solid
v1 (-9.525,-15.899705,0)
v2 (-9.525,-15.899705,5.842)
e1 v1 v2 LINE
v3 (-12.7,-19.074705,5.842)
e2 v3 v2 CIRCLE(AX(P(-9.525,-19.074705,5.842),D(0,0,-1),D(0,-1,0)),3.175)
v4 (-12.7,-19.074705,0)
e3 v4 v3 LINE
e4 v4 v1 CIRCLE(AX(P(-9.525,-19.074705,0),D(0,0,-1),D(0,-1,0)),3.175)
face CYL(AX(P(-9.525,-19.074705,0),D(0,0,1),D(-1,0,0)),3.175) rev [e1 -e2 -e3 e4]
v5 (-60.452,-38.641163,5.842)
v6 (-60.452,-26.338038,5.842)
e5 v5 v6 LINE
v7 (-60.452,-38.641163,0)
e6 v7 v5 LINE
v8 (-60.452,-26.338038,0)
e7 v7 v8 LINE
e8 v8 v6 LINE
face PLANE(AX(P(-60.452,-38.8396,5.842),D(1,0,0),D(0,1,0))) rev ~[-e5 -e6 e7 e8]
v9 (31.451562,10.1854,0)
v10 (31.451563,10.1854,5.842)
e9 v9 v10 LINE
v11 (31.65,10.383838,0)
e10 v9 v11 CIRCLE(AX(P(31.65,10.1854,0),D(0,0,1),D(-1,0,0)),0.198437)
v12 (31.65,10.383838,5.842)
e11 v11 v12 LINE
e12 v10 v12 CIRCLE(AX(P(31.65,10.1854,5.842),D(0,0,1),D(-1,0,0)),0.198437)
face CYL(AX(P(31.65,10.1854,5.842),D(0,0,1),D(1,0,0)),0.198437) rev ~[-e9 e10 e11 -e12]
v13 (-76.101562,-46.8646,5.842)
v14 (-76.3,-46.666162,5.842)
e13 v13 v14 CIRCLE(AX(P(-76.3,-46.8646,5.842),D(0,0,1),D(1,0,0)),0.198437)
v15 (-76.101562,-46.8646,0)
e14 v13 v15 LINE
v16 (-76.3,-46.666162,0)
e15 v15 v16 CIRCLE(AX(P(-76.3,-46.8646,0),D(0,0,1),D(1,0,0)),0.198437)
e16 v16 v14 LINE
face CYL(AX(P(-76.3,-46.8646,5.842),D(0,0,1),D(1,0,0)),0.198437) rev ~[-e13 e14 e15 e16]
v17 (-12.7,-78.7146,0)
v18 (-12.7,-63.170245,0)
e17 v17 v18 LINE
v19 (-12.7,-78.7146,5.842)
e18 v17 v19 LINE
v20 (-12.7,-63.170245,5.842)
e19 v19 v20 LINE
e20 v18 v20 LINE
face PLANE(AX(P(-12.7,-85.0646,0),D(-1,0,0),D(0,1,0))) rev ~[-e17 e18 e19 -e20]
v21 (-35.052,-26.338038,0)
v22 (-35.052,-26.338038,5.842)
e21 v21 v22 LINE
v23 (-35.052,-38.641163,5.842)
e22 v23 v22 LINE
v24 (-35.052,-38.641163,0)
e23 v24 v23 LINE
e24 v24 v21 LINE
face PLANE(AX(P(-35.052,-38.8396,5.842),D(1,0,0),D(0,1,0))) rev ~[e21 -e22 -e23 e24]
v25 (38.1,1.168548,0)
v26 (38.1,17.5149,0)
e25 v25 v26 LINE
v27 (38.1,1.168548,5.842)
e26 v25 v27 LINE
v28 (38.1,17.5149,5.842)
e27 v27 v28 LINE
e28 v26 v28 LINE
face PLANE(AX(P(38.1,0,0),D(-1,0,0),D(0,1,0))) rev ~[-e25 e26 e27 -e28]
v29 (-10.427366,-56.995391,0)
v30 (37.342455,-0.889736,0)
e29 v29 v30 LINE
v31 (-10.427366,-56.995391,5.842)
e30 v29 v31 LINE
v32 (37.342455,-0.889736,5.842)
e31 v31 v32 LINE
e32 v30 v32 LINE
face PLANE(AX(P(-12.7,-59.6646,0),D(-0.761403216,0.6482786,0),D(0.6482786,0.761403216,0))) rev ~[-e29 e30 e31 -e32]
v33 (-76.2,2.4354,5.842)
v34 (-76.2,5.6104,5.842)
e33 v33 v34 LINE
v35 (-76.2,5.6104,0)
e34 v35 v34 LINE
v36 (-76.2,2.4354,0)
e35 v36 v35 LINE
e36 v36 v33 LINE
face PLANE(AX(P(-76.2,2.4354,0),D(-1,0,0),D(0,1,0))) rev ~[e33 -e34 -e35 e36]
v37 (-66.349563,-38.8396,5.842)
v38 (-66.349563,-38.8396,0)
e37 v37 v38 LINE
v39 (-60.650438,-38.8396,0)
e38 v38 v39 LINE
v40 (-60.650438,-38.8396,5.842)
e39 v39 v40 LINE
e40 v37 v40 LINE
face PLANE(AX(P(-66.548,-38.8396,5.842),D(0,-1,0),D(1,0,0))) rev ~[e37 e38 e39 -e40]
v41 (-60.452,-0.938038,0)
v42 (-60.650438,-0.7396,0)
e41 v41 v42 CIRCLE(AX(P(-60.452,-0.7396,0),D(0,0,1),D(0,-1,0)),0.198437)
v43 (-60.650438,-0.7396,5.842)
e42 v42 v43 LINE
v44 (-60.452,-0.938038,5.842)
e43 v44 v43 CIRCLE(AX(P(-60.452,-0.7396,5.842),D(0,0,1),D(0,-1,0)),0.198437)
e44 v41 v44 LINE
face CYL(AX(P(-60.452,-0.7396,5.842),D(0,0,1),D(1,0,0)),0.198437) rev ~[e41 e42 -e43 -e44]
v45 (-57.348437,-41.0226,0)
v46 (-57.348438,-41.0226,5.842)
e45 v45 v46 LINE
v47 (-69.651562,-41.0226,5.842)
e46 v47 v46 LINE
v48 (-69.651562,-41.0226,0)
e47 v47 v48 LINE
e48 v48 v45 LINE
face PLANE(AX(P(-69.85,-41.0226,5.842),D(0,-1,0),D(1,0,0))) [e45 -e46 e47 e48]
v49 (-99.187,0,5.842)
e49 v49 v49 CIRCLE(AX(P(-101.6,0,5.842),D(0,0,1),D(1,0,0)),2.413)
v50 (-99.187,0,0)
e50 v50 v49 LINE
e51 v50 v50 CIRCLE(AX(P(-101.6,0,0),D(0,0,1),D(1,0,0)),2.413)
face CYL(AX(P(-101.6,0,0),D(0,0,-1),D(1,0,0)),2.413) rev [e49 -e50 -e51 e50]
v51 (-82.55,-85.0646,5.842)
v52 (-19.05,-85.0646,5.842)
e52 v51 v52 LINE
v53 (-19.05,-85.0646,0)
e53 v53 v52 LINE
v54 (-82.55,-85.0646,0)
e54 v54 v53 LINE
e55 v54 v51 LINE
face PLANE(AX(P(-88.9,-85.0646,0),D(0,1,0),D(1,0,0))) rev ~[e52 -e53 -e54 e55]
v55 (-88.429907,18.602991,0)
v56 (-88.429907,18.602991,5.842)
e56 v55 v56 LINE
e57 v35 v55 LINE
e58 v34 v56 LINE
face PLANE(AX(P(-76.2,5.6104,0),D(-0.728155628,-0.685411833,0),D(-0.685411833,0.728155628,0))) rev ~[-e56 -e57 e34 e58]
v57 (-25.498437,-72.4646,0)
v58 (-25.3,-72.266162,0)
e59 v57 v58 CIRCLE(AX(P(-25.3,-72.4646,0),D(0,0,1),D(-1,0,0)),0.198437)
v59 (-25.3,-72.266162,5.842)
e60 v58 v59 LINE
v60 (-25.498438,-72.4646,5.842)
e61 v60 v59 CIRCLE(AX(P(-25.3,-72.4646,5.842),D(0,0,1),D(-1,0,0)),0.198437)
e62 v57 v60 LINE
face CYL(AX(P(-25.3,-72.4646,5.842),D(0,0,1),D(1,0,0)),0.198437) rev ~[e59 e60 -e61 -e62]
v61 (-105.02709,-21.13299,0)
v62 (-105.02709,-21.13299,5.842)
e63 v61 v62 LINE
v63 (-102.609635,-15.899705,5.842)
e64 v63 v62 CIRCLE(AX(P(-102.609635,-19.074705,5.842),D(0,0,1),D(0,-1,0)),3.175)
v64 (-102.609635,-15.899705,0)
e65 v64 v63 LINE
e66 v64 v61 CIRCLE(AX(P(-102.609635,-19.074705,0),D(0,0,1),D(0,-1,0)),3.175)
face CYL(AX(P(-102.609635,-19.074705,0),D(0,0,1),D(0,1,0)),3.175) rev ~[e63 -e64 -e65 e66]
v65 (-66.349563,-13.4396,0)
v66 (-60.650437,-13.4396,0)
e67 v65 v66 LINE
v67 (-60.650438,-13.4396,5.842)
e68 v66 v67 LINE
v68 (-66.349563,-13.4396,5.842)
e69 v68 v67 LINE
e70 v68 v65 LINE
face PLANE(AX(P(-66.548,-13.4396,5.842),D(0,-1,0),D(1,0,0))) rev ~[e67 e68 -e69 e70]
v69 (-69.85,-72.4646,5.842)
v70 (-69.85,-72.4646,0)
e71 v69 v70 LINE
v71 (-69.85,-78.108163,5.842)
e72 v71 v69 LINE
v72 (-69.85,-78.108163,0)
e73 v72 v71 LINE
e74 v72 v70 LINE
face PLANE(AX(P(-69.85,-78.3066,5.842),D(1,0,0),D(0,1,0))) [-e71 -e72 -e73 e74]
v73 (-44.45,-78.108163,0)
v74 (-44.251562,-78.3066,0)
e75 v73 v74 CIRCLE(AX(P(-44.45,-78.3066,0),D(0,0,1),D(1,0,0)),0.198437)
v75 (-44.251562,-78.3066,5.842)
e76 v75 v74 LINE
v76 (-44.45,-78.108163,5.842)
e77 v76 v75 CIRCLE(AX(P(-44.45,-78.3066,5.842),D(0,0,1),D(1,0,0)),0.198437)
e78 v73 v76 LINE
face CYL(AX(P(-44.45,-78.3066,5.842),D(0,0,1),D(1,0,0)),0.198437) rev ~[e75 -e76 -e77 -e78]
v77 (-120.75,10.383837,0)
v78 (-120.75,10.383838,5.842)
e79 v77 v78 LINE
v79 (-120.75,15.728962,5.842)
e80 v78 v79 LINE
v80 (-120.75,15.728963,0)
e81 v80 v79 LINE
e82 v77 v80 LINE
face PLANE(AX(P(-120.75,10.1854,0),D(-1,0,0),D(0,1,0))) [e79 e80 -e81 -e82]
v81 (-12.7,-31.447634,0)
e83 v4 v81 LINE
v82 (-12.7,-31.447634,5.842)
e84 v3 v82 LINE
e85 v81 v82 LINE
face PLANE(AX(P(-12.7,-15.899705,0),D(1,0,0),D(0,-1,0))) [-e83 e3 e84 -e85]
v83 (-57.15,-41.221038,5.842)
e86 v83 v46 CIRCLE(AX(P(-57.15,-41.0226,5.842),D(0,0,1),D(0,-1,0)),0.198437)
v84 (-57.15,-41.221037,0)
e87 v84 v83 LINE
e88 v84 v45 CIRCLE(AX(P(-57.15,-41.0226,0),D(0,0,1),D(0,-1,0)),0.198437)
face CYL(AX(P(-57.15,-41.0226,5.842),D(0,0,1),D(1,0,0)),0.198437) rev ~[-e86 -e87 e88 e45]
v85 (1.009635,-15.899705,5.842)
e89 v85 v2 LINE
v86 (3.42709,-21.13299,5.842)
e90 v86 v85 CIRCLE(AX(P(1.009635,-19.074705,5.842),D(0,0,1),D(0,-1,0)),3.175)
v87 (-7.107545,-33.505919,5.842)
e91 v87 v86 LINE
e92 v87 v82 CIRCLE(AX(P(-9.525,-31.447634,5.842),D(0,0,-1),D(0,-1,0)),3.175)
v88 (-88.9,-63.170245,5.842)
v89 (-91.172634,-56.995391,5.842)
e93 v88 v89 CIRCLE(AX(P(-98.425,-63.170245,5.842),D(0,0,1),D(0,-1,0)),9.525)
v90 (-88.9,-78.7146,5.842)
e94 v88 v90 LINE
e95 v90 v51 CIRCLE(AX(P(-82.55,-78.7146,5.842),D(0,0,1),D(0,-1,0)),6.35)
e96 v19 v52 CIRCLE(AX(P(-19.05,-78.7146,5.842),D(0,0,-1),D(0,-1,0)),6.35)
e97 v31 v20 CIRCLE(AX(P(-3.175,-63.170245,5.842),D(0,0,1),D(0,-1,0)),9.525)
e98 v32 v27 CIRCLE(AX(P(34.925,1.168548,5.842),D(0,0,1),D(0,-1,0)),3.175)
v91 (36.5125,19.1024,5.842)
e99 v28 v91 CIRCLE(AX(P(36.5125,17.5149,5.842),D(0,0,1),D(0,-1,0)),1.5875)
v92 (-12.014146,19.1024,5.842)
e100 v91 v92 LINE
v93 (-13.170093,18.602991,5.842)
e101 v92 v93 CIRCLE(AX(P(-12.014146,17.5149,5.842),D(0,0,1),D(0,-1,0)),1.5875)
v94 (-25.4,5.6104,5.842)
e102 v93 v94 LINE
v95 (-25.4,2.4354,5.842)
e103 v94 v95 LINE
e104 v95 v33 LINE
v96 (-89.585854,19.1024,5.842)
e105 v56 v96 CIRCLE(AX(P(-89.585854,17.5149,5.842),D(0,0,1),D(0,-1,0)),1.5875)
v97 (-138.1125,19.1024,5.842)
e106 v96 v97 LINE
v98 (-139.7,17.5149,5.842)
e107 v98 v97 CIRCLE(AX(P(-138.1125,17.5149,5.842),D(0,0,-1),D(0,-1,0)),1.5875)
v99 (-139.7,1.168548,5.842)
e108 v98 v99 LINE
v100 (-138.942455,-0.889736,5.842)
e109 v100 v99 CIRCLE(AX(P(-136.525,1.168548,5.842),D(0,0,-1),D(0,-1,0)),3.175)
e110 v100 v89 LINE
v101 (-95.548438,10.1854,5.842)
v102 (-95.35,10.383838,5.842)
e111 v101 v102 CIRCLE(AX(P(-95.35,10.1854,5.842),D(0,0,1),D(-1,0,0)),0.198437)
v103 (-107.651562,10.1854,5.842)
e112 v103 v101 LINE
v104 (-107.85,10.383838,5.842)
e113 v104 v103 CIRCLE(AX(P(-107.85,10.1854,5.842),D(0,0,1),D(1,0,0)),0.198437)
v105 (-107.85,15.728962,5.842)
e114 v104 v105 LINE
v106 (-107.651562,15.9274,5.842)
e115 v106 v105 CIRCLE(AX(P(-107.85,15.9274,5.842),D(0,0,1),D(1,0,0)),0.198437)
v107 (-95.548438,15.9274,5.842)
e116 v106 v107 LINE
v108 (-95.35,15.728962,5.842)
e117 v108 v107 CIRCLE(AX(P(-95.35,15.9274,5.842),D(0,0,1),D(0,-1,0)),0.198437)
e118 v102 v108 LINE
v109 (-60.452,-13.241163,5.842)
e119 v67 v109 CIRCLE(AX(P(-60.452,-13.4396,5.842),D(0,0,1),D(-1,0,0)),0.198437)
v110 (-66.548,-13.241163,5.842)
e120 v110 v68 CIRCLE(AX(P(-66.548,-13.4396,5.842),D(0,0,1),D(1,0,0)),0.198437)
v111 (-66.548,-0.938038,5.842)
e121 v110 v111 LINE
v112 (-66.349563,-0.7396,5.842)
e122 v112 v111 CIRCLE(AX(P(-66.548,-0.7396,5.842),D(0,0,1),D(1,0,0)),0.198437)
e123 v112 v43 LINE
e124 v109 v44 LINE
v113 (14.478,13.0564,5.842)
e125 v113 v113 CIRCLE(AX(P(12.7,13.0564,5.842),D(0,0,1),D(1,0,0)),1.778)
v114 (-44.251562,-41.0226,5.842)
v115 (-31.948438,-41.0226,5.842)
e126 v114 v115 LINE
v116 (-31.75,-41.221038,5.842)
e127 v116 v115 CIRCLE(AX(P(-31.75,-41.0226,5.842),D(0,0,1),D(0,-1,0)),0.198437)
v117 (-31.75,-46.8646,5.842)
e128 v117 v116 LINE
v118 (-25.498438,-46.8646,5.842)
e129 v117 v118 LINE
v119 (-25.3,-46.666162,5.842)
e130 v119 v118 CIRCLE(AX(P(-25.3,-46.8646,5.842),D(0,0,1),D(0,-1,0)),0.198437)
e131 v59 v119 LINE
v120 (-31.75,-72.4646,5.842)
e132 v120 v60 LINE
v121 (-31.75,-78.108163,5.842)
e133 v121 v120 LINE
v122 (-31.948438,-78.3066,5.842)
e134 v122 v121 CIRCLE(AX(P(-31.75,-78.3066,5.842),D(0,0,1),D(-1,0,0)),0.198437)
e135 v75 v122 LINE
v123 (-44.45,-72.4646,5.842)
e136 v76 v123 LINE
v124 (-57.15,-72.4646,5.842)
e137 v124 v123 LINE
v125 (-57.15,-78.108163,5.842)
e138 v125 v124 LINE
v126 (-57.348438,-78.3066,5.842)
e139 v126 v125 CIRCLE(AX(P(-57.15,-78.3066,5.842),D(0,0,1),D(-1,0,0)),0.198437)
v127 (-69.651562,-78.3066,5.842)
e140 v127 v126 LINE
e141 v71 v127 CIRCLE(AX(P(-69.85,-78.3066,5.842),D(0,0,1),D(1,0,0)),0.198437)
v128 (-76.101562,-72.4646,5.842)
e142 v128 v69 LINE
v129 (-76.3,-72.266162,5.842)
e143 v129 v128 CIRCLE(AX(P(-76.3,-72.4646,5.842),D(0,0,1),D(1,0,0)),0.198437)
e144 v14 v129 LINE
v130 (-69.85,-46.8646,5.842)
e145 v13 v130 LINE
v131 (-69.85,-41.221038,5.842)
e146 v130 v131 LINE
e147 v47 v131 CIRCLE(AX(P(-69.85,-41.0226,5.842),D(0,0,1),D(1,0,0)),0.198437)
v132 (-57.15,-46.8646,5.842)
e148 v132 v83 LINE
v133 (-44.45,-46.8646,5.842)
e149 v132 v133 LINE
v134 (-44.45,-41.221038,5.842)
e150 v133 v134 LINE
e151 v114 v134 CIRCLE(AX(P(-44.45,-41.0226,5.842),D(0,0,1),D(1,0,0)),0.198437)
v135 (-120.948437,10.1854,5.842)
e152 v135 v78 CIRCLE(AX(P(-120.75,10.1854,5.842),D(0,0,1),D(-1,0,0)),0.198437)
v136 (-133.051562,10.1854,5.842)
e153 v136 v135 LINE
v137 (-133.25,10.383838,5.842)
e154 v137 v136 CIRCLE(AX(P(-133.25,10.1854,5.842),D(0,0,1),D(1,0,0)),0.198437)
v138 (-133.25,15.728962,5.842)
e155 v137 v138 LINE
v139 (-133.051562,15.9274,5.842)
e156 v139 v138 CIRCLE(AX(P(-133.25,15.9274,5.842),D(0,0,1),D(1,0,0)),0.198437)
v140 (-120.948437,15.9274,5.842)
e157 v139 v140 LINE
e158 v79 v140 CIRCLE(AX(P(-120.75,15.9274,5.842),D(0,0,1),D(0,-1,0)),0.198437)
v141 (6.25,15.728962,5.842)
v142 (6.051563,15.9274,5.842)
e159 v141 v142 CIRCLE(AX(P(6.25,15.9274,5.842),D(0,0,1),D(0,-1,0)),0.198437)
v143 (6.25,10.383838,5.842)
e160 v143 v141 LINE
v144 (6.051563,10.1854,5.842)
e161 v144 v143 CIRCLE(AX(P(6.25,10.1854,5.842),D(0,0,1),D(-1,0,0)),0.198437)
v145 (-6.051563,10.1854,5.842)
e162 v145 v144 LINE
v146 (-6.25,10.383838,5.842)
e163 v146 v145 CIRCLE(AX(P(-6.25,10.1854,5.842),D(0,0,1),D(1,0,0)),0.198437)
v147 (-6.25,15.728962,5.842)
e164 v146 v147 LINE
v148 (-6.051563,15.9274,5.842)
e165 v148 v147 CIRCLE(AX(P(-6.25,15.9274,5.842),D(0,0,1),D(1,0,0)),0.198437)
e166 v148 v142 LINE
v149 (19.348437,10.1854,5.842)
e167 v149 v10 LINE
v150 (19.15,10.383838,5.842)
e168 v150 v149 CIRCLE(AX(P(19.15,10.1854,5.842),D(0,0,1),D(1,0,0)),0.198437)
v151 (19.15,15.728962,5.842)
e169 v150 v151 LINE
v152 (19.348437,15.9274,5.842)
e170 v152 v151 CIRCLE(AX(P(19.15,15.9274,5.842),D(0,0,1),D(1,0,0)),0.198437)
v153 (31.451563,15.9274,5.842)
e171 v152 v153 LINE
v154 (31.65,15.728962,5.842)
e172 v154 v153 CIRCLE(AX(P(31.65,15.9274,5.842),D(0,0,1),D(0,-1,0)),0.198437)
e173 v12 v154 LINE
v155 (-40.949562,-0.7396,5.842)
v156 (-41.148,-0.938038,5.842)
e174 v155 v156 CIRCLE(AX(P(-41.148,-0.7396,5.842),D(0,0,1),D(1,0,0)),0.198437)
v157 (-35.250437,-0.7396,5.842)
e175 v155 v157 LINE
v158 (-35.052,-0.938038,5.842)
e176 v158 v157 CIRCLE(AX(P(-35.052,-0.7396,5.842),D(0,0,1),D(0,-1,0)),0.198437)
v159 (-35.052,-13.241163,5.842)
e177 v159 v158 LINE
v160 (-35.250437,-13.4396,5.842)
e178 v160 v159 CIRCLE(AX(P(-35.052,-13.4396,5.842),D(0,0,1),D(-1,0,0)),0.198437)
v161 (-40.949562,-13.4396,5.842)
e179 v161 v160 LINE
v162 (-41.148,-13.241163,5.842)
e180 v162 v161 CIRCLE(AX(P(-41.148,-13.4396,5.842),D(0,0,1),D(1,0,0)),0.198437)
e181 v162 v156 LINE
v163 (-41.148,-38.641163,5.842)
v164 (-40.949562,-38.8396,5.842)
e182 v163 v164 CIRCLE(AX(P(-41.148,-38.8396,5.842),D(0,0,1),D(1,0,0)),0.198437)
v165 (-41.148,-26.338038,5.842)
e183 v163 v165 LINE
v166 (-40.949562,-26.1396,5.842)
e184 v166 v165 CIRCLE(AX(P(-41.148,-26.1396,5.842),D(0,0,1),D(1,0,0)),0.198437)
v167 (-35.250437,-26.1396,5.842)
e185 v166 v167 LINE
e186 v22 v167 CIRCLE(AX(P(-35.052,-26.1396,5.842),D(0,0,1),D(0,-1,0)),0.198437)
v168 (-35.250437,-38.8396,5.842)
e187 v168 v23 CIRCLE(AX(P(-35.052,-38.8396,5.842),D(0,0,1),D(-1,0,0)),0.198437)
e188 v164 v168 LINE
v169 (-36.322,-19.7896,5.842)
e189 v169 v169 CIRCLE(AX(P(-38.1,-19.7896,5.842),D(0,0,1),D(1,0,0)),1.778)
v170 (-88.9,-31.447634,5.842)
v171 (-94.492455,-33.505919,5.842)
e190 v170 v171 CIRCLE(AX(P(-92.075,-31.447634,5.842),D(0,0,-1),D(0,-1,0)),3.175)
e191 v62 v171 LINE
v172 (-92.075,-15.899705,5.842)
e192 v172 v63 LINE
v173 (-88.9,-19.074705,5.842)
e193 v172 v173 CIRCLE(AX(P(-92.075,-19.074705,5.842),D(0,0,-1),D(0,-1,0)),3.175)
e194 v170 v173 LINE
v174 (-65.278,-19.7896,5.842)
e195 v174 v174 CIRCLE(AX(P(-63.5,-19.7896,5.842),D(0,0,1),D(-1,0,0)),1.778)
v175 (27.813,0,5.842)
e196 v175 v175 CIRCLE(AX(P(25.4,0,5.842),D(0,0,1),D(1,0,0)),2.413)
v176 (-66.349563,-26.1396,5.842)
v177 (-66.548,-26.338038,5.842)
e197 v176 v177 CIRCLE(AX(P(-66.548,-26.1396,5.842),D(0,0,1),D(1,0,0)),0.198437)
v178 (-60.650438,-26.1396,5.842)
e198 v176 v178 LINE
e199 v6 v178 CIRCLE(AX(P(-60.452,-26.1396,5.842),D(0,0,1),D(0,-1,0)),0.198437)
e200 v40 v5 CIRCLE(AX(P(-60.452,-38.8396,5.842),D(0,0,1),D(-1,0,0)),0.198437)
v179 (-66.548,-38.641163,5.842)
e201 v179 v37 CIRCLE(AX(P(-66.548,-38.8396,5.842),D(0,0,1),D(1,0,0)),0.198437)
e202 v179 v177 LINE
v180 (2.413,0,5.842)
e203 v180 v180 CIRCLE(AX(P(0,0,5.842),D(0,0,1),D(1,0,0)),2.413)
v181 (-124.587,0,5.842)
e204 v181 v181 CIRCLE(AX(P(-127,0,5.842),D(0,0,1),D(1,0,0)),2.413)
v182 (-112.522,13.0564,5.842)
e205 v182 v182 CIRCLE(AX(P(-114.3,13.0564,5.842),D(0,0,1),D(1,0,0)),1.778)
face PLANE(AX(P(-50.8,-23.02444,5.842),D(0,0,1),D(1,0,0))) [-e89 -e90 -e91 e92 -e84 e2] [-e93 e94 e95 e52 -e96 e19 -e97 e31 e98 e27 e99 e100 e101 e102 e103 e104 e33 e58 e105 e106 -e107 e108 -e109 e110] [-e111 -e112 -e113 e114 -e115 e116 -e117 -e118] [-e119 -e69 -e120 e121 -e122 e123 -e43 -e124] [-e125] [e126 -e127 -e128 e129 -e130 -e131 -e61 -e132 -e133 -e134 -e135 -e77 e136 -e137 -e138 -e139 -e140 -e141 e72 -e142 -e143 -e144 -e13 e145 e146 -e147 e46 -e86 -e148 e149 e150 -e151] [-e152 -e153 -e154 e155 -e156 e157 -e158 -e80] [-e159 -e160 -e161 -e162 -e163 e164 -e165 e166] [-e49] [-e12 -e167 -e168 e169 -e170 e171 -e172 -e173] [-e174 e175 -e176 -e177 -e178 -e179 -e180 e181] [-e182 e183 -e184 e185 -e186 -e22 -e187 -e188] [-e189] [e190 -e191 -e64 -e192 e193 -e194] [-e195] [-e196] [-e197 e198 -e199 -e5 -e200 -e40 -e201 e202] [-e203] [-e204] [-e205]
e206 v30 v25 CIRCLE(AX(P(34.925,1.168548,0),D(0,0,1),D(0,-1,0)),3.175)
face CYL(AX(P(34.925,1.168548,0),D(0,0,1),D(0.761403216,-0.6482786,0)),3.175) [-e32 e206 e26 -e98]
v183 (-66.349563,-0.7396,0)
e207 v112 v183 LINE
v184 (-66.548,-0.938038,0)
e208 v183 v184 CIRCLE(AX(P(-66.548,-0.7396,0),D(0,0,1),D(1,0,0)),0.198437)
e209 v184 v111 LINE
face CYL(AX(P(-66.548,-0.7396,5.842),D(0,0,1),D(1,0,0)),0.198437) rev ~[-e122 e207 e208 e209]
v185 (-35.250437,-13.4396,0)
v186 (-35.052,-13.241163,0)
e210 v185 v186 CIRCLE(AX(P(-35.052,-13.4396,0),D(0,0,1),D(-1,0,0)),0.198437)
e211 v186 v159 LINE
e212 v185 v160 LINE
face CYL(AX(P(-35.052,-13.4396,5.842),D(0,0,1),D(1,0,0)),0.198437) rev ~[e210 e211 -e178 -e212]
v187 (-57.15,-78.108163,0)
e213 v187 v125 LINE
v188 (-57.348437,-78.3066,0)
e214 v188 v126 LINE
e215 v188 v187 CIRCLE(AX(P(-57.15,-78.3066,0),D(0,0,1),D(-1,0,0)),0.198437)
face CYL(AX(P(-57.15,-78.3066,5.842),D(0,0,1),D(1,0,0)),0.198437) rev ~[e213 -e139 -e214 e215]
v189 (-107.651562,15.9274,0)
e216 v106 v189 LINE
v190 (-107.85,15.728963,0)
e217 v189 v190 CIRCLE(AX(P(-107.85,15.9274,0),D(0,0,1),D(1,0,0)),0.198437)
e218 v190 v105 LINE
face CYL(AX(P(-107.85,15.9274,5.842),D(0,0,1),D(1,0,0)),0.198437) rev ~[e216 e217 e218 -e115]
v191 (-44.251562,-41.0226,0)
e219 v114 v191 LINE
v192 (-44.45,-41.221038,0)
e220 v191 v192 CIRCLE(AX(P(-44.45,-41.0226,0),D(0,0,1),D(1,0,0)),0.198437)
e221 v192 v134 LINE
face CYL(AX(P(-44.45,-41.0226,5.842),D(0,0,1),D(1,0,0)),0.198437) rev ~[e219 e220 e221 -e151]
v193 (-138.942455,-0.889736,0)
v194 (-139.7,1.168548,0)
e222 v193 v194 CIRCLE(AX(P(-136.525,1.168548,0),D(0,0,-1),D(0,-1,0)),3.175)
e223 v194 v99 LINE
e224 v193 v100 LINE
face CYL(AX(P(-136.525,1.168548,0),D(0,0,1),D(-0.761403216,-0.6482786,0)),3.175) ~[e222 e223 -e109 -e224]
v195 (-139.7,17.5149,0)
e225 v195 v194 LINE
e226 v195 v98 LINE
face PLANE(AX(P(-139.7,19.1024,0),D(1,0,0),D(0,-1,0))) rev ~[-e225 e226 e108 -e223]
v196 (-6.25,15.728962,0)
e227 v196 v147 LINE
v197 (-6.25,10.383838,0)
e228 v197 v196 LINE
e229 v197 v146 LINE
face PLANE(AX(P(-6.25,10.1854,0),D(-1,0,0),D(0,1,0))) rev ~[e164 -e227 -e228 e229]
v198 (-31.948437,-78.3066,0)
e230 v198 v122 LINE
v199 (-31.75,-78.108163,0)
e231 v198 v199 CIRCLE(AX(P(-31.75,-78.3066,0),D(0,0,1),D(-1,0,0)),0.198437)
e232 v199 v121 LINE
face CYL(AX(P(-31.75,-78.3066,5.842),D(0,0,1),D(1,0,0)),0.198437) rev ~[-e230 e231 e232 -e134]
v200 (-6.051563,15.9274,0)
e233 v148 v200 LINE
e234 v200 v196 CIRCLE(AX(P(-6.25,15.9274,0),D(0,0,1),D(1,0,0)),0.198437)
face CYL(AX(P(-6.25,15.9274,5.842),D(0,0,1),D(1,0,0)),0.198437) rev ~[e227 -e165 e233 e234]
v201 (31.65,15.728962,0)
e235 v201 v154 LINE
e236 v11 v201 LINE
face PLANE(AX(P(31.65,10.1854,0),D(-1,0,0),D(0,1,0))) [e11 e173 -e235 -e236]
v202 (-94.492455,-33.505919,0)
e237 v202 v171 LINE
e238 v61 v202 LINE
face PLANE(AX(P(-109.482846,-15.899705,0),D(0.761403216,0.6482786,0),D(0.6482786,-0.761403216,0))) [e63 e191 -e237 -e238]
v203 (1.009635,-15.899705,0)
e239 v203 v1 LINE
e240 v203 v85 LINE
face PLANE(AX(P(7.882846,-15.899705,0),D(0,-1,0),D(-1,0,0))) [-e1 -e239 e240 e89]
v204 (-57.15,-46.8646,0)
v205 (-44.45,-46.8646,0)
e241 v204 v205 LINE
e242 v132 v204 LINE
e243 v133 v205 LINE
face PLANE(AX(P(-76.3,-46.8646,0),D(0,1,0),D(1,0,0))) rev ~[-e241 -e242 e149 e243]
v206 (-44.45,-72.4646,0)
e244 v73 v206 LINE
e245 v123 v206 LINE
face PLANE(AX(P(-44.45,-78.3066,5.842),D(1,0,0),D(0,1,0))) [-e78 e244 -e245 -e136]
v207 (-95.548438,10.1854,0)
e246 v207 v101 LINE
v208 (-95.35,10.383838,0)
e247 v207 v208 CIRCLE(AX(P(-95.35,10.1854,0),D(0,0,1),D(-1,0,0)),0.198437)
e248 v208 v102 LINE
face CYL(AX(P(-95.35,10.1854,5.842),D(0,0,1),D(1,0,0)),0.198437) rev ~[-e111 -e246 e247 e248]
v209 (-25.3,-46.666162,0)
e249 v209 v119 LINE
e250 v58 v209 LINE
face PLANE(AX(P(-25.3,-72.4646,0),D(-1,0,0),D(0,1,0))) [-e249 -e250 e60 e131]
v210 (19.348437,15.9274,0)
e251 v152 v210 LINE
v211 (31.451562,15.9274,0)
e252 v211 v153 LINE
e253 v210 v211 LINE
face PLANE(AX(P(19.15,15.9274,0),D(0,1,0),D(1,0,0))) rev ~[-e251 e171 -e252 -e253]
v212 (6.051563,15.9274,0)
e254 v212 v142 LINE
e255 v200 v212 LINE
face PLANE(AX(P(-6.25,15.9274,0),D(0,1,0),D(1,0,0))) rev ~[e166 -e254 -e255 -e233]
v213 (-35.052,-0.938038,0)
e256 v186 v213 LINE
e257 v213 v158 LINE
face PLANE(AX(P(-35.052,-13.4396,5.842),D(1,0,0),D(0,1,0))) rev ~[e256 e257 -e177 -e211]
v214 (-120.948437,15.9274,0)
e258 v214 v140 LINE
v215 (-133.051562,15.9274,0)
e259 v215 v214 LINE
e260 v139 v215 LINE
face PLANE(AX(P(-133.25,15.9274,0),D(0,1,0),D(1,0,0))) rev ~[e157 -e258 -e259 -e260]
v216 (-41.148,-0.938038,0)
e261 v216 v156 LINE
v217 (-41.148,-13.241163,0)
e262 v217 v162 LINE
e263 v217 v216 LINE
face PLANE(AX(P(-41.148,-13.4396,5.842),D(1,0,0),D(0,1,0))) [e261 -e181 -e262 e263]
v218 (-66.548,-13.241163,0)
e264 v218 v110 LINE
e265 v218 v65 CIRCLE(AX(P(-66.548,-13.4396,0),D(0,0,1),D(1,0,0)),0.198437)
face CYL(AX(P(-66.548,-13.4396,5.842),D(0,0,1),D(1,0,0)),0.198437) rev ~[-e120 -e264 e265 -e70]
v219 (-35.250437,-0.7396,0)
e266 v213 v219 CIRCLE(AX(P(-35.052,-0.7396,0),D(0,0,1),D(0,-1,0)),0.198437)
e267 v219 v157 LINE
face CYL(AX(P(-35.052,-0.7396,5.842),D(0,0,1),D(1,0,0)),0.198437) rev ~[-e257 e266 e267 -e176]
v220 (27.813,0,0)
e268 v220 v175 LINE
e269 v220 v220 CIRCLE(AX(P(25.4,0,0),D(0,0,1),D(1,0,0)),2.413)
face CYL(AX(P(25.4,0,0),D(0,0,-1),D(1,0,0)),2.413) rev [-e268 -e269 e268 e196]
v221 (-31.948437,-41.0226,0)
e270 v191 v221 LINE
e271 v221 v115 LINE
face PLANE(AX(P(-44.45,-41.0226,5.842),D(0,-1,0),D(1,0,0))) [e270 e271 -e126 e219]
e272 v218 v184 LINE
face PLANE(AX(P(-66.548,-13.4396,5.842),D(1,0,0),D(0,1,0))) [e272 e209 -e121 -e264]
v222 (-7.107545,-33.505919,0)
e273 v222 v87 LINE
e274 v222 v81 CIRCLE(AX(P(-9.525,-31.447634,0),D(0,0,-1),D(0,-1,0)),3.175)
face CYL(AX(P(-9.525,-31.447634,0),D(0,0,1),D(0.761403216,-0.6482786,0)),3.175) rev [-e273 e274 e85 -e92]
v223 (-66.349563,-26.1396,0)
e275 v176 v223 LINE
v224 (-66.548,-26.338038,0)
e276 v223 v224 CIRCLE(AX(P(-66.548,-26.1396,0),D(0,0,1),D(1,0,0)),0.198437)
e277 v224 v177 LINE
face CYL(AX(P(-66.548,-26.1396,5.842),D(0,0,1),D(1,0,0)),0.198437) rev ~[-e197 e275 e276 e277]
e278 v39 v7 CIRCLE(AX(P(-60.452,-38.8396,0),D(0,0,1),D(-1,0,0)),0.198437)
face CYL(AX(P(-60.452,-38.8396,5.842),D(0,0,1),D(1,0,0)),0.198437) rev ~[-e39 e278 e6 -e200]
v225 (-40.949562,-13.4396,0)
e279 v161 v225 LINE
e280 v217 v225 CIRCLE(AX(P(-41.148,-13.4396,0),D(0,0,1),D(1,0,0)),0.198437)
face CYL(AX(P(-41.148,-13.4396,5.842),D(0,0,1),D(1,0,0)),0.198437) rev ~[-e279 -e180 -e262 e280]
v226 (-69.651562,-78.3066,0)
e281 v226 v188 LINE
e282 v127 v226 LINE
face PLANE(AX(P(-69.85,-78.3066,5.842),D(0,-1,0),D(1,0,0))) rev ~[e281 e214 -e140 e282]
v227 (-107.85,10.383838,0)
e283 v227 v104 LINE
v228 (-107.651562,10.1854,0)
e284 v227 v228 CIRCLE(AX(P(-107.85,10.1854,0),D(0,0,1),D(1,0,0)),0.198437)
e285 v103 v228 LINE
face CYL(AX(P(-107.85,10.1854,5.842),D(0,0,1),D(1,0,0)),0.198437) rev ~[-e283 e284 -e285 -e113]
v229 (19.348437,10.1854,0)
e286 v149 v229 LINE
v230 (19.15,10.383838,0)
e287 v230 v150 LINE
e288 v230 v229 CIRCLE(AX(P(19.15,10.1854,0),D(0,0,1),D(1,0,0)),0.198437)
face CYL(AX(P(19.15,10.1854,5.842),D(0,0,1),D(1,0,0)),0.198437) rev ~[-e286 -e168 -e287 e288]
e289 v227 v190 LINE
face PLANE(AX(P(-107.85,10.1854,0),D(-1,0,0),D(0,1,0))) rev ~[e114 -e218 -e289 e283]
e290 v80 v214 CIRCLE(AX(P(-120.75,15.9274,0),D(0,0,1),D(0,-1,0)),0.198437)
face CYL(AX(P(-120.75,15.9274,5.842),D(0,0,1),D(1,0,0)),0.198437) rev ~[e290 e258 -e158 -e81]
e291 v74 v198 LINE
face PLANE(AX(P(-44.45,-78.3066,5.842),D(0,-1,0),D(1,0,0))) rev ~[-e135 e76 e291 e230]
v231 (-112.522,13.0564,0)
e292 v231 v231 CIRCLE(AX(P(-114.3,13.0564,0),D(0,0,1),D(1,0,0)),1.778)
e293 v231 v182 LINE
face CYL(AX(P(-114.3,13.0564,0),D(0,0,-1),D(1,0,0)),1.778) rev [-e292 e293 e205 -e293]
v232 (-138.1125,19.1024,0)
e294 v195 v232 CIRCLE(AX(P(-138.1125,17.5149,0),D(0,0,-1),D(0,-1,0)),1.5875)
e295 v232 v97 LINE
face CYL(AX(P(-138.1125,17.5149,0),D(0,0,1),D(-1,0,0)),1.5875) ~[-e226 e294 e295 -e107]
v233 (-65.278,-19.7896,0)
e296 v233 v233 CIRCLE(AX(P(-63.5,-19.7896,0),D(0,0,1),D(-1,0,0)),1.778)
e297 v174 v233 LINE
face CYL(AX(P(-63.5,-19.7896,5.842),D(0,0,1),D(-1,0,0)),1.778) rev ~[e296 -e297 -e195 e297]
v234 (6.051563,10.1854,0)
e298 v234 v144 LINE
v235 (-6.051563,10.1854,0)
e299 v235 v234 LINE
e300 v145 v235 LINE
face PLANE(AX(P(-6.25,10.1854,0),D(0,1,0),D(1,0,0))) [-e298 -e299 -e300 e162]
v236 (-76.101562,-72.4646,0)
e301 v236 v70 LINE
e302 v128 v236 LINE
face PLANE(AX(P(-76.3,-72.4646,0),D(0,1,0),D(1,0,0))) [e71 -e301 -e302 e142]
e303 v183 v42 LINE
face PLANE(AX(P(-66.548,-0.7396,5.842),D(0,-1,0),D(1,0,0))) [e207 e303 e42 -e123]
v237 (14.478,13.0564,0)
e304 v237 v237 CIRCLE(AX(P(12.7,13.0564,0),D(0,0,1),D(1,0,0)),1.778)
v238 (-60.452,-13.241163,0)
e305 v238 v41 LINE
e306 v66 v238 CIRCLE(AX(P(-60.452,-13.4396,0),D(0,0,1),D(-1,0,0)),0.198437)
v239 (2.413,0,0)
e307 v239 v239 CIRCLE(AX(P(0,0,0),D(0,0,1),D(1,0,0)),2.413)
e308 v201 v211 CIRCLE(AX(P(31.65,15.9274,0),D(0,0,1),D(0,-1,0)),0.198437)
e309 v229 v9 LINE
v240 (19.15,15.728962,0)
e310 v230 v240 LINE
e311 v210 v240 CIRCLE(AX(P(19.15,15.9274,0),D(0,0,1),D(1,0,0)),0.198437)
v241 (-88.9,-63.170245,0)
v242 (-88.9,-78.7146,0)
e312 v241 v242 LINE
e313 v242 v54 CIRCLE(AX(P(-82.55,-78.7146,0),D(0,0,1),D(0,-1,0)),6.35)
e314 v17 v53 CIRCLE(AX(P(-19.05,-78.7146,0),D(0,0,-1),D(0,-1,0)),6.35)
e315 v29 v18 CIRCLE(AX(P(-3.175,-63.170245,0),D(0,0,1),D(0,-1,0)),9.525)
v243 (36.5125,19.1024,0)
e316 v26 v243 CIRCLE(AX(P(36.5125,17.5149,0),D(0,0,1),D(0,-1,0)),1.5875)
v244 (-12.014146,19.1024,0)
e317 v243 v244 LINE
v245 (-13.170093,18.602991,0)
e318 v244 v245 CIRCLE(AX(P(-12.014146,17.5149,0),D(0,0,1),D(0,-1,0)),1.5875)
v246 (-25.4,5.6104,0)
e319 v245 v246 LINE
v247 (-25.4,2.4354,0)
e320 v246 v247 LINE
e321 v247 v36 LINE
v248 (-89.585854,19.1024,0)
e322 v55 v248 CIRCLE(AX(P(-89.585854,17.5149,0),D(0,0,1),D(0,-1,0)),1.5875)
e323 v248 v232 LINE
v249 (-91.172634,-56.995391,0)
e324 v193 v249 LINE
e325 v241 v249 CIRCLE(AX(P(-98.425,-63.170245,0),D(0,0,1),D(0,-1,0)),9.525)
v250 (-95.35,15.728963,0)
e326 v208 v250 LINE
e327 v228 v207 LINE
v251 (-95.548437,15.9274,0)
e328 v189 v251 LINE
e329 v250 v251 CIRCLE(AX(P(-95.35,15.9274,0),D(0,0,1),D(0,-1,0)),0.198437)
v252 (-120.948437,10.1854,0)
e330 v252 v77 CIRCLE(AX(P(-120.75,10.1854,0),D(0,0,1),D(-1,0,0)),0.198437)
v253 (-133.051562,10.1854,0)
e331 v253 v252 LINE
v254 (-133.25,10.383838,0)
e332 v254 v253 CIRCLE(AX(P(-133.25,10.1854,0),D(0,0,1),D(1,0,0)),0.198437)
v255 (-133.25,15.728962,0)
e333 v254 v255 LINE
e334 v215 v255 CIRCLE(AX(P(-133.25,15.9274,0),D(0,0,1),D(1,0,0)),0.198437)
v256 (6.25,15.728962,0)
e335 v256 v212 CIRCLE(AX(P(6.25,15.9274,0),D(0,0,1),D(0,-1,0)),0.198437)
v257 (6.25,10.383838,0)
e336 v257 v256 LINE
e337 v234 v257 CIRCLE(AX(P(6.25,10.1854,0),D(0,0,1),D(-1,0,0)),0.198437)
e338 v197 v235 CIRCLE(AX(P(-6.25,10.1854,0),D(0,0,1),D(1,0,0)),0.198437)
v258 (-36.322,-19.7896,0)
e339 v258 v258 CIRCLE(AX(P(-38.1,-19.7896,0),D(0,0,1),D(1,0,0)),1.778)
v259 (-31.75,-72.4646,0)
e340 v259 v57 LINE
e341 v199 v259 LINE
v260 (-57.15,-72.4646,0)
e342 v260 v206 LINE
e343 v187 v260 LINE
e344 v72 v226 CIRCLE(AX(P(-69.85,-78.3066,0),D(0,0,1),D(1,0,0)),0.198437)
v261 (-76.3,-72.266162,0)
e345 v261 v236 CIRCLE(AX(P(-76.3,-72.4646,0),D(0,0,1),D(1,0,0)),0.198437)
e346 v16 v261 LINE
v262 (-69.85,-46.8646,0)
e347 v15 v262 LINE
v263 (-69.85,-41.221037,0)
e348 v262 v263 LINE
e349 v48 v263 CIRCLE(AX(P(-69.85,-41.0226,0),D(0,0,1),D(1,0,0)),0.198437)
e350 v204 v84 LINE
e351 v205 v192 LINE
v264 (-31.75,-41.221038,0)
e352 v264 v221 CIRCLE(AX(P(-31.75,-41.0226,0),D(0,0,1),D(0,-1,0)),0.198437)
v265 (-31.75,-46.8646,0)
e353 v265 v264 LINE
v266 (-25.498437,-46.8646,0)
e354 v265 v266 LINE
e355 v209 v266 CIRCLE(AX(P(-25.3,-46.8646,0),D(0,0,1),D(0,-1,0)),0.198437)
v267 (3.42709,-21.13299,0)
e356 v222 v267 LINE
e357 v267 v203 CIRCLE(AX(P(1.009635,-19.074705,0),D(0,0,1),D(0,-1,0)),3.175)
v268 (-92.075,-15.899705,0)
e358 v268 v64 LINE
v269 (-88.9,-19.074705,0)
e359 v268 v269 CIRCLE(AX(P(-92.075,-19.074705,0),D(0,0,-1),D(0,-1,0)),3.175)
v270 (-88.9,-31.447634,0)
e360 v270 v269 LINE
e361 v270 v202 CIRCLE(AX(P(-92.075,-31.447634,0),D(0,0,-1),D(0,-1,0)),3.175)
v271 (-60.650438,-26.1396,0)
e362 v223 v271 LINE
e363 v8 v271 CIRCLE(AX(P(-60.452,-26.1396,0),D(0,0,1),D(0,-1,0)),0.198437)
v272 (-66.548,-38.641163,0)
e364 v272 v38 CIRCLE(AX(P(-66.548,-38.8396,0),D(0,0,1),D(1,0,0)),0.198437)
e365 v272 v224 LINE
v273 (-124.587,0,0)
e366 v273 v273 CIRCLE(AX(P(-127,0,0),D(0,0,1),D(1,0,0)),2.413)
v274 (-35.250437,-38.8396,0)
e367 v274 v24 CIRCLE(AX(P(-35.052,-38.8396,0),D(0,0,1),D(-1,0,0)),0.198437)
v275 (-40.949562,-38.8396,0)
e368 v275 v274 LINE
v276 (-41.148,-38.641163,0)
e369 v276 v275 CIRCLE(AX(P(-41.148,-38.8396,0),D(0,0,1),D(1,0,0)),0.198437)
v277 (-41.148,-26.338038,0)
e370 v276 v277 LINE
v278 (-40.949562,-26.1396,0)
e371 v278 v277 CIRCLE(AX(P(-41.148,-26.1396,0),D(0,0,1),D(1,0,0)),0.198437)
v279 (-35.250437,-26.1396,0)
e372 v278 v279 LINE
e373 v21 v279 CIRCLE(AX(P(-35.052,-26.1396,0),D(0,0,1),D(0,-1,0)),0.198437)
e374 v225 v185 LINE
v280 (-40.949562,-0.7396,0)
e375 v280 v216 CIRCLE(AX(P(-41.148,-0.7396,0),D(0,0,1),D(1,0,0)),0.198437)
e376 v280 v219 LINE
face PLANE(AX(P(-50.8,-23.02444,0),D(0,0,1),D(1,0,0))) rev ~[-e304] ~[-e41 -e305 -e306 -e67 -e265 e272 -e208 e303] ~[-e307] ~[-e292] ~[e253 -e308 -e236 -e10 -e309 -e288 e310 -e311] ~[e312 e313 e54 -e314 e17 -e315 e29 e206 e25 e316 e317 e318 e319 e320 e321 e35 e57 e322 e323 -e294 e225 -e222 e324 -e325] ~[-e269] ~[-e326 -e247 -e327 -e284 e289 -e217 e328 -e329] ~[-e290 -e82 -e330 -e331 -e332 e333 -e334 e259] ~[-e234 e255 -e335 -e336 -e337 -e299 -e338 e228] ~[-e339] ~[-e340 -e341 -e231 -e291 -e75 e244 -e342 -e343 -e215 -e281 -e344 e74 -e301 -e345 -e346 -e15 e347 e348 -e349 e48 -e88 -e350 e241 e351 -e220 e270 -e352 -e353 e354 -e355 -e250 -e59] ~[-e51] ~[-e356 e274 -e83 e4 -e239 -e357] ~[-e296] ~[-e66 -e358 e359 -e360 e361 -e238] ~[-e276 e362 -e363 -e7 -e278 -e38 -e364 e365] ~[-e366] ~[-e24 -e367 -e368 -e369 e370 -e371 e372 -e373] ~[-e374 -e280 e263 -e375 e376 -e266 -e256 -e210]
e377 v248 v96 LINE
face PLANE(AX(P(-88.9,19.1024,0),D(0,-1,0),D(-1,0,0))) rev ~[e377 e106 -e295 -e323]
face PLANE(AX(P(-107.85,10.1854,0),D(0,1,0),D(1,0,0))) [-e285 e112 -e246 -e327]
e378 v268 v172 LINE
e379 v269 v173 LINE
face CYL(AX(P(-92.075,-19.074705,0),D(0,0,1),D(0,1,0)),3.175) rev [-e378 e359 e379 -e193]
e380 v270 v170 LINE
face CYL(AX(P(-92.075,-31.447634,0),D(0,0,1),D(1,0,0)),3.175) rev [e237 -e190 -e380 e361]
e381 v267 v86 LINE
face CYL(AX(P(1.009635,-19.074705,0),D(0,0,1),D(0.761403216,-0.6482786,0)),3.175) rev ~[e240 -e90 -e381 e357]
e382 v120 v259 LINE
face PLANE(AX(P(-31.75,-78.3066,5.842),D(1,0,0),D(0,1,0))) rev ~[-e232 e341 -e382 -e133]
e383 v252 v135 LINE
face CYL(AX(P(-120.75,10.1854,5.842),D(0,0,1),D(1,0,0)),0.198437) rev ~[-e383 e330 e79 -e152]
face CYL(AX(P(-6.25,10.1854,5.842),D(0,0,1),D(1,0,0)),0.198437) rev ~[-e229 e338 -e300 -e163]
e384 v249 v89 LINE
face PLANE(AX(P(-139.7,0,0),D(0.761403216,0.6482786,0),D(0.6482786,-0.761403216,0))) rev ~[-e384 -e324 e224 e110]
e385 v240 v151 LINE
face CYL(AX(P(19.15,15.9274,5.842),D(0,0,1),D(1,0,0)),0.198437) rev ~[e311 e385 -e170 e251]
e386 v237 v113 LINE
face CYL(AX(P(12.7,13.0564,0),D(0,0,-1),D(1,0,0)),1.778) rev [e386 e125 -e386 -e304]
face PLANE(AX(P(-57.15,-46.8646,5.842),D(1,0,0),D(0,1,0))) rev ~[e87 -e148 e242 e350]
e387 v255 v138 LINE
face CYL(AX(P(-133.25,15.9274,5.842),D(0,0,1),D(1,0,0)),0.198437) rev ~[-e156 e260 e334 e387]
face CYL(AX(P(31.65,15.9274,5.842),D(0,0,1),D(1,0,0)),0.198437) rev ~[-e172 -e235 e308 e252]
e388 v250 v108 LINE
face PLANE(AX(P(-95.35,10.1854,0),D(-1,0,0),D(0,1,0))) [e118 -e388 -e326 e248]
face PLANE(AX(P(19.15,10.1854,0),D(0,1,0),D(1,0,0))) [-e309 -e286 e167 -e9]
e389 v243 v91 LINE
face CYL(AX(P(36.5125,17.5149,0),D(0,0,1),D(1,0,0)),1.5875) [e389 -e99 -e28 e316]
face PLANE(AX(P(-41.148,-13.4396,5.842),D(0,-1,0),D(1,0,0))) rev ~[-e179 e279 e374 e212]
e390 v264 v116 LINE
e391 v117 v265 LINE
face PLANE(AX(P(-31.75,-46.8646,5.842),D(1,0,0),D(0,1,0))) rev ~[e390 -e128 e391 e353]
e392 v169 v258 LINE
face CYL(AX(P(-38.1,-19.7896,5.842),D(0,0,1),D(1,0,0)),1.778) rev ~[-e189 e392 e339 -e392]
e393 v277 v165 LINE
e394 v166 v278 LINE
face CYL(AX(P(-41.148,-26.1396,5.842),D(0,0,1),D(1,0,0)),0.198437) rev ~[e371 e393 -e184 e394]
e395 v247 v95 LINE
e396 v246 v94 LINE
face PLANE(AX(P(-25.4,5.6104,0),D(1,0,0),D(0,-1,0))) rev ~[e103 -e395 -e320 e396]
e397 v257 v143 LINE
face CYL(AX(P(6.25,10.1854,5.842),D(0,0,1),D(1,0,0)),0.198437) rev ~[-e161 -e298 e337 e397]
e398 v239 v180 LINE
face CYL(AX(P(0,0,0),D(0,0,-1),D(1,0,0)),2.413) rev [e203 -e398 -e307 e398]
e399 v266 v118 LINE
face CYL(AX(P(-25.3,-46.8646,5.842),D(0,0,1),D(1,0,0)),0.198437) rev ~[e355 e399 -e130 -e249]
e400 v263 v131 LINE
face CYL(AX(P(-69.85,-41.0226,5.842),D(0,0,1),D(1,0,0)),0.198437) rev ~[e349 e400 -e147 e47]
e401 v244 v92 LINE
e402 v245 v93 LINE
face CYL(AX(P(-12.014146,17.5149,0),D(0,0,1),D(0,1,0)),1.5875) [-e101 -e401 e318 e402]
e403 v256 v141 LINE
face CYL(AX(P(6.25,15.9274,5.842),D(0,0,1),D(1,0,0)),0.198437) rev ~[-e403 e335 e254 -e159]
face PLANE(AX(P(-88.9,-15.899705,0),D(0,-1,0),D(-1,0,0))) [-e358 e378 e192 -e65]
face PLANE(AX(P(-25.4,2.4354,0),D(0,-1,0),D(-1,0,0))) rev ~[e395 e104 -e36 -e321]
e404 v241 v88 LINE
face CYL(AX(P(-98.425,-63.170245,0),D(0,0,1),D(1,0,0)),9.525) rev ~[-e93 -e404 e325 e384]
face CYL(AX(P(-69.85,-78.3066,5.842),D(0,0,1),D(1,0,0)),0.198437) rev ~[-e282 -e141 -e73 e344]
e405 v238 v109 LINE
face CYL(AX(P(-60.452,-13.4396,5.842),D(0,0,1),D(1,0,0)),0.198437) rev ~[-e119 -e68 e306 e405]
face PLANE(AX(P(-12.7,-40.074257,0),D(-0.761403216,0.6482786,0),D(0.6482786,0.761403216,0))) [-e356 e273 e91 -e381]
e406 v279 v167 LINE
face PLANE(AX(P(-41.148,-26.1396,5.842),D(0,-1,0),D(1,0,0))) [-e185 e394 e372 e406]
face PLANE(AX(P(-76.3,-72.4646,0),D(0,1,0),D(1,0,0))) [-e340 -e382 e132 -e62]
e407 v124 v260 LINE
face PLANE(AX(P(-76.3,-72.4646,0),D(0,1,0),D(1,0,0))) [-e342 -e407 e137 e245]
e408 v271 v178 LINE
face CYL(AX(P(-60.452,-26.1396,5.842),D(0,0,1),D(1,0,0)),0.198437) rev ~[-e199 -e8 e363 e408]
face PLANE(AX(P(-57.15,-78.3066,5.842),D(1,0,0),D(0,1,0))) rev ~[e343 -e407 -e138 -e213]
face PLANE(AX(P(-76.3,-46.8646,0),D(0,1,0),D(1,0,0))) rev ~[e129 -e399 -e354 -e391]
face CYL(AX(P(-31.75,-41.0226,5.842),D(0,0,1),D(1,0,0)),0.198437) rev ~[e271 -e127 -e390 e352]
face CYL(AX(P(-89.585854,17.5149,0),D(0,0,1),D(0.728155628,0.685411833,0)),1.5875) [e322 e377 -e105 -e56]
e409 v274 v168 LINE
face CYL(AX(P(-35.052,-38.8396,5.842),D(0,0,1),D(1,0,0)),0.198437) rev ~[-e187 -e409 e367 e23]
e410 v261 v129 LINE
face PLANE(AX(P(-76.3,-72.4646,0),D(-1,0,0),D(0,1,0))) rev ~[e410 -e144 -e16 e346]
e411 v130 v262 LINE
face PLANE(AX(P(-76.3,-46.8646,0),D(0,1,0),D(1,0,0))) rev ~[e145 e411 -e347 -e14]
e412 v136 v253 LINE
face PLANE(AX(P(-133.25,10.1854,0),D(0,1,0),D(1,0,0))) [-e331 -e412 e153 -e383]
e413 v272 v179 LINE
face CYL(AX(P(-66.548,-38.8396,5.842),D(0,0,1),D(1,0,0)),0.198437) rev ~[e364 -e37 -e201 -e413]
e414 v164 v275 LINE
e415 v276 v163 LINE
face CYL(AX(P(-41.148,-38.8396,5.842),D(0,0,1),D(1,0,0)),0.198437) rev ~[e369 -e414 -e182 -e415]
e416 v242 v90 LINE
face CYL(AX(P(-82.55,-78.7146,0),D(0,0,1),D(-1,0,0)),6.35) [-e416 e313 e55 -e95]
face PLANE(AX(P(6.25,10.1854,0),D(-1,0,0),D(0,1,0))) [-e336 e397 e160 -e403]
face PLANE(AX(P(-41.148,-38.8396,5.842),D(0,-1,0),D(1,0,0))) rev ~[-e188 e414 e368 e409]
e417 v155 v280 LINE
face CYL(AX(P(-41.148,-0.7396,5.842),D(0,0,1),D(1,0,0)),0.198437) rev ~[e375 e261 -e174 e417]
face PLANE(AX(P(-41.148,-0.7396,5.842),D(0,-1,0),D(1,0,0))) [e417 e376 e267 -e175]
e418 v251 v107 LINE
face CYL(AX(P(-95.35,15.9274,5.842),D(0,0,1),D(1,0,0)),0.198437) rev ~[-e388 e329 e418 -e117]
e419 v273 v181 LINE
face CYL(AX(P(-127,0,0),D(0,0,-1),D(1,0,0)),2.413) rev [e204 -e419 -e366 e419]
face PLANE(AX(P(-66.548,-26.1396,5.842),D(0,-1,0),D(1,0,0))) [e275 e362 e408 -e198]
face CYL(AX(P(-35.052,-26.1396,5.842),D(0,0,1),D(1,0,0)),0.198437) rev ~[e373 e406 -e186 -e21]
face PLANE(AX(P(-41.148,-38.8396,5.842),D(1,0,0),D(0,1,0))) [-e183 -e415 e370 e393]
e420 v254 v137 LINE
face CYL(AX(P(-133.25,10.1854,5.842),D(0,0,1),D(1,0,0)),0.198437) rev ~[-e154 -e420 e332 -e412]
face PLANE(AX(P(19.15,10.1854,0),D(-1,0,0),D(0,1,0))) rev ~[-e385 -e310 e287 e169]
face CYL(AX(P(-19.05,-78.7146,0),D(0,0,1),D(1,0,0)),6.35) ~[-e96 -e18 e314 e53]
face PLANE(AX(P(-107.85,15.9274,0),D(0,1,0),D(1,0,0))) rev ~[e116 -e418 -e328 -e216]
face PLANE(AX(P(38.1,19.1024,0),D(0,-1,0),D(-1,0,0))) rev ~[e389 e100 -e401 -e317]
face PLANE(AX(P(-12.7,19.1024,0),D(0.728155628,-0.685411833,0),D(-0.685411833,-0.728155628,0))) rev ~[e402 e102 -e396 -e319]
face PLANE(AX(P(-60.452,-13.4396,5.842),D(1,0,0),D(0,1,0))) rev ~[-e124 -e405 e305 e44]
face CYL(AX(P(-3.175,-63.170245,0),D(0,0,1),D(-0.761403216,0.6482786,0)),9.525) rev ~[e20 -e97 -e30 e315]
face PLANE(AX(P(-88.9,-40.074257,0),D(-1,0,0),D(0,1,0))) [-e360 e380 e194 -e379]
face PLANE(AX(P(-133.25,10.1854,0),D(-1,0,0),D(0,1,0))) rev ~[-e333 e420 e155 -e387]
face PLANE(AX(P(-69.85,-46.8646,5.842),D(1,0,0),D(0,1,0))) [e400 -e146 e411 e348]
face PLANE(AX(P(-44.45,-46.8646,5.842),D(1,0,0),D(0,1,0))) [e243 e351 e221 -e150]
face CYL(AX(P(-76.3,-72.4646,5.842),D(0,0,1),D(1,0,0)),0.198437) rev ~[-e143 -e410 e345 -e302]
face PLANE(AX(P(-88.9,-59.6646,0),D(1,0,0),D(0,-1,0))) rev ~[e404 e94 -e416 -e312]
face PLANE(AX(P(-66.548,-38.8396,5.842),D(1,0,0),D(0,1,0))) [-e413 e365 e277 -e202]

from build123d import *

# Parameters (mm, degrees)
SKETCH1_R           = 2.413
SKETCH1_R_2         = 1.778
SKETCH1_W           = 12.5
SKETCH1_H           = 5.742
SKETCH1_W_2         = 51
SKETCH1_H_2         = 25.6
BOSS_EXTRUDE1_DEPTH = 5.842
FILLET1_R           = 6.35
FILLET2_R           = 3.175
FILLET3_R           = 3.175
FILLET4_R           = 1.5875
FILLET5_R           = 9.525
SKETCH2_R           = 1.778
SKETCH2_W           = 6.096
SKETCH2_H           = 12.7
CUT_EXTRUDE1_DEPTH  = 164.664917246
SKETCH3_R           = 0.1984375
CUT_EXTRUDE2_DEPTH  = 164.664917246
SKETCH5_R           = 0.1984375
CUT_EXTRUDE3_DEPTH  = 164.664917246
SKETCH9_W           = 12.7
SKETCH9_H           = 5.842
SKETCH9_W_2         = 5.842
SKETCH9_H_2         = 12.7
CUT_EXTRUDE6_DEPTH  = 164.664917246
SKETCH10_R          = 0.1984375
CUT_EXTRUDE7_DEPTH  = 164.664917246
BOSS_EXTRUDE3_DEPTH = 5.842


with BuildPart() as part:
    # Sketch1 → Boss-Extrude1 (new body)
    with BuildSketch(Plane.XY):
        Polygon((-25.4, 2.435399968), (-76.2, 2.435399968), (-76.2, 5.610399968), (-88.9, 19.1024), (-139.7, 19.1024), (-139.7, 0), (-88.9, -59.6646), (-88.9, -85.0646), (-12.7, -85.0646), (-12.7, -59.6646), (38.1, 0), (38.1, 19.1024), (-12.7, 19.1024), (-25.4, 5.610399968), align=None)
        Circle(SKETCH1_R, mode=Mode.SUBTRACT)
        with Locations((25.4, 0)):
            Circle(SKETCH1_R, mode=Mode.SUBTRACT)
        with Locations((12.7, 13.0564)):
            Circle(SKETCH1_R_2, mode=Mode.SUBTRACT)
        with Locations((-114.3, 13.0564)):
            Circle(SKETCH1_R_2, mode=Mode.SUBTRACT)
        with Locations((-127, 0)):
            Circle(SKETCH1_R, mode=Mode.SUBTRACT)
        with Locations((-101.6, 0)):
            Circle(SKETCH1_R, mode=Mode.SUBTRACT)
        with Locations((0, 13.0564)):
            Rectangle(SKETCH1_W, SKETCH1_H, mode=Mode.SUBTRACT)
        with Locations((25.4, 13.0564)):
            Rectangle(SKETCH1_W, SKETCH1_H, mode=Mode.SUBTRACT)
        with Locations((-50.8, -59.6646)):
            Rectangle(SKETCH1_W_2, SKETCH1_H_2, mode=Mode.SUBTRACT)
        Polygon((-12.7, -40.074257205), (7.882845549, -15.899705108), (-12.7, -15.899705108), align=None, mode=Mode.SUBTRACT)
        Polygon((-88.9, -15.899705108), (-109.482845549, -15.899705108), (-88.9, -40.074257205), align=None, mode=Mode.SUBTRACT)
        with Locations((-101.6, 13.0564)):
            Rectangle(SKETCH1_W, SKETCH1_H, mode=Mode.SUBTRACT)
        with Locations((-127, 13.0564)):
            Rectangle(SKETCH1_W, SKETCH1_H, mode=Mode.SUBTRACT)
    extrude(amount=BOSS_EXTRUDE1_DEPTH)

    # Fillet1
    fillet1_edges = [part.edges().sort_by_distance(p)[0] for p in [
        (-12.7, -85.0646, 2.921),
        (-88.9, -85.0646, 2.921),
    ]]
    fillet(fillet1_edges, radius=FILLET1_R)

    # Fillet2
    fillet2_edges = [part.edges().sort_by_distance(p)[0] for p in [
        (-12.7, -40.074257205, 2.921),
        (7.882845549, -15.899705108, 2.921),
        (-12.7, -15.899705108, 2.921),
        (-88.9, -15.899705108, 2.921),
        (-109.482845549, -15.899705108, 2.921),
        (-88.9, -40.074257205, 2.921),
    ]]
    fillet(fillet2_edges, radius=FILLET2_R)

    # Fillet3
    fillet3_edges = [part.edges().sort_by_distance(p)[0] for p in [
        (-139.7, 0, 2.921),
        (38.1, 0, 2.921),
    ]]
    fillet(fillet3_edges, radius=FILLET3_R)

    # Fillet4
    fillet4_edges = [part.edges().sort_by_distance(p)[0] for p in [
        (-139.7, 19.1024, 2.921),
        (-88.9, 19.1024, 2.921),
        (-12.7, 19.1024, 2.921),
        (38.1, 19.1024, 2.921),
    ]]
    fillet(fillet4_edges, radius=FILLET4_R)

    # Fillet5
    fillet5_edges = [part.edges().sort_by_distance(p)[0] for p in [
        (-88.9, -59.6646, 2.921),
        (-12.7, -59.6646, 2.921),
    ]]
    fillet(fillet5_edges, radius=FILLET5_R)

    # Sketch2 → Cut-Extrude1 (cut, through all)
    with BuildSketch(Plane.XY.offset(5.842)):
        with Locations((-38.1, -19.789600032)):
            Circle(SKETCH2_R)
        with Locations(Location((-63.5, -19.789600032, 0), (0, 0, 180))):
            Circle(SKETCH2_R)
        with Locations((-38.1, -7.089600032)):
            Rectangle(SKETCH2_W, SKETCH2_H)
        with Locations((-38.1, -32.489600032)):
            Rectangle(SKETCH2_W, SKETCH2_H)
        with Locations((-63.5, -32.489600032)):
            Rectangle(SKETCH2_W, SKETCH2_H)
        with Locations((-63.5, -7.089600032)):
            Rectangle(SKETCH2_W, SKETCH2_H)
    extrude(amount=-CUT_EXTRUDE1_DEPTH, mode=Mode.SUBTRACT)

    # Sketch3 → Cut-Extrude2 (cut, through all)
    with BuildSketch(Plane.XY.offset(5.842)):
        with Locations((-35.052, -26.139600032)):
            Circle(SKETCH3_R)
        with Locations((-41.148, -26.139600032)):
            Circle(SKETCH3_R)
        with Locations((-35.052, -38.839600032)):
            Circle(SKETCH3_R)
        with Locations((-41.148, -38.839600032)):
            Circle(SKETCH3_R)
        with Locations((-35.052, -0.739600032)):
            Circle(SKETCH3_R)
        with Locations((-35.052, -13.439600032)):
            Circle(SKETCH3_R)
        with Locations((-41.148, -13.439600032)):
            Circle(SKETCH3_R)
        with Locations((-41.148, -0.739600032)):
            Circle(SKETCH3_R)
        with Locations((-60.452, -0.739600032)):
            Circle(SKETCH3_R)
        with Locations((-60.452, -13.439600032)):
            Circle(SKETCH3_R)
        with Locations((-66.548, -13.439600032)):
            Circle(SKETCH3_R)
        with Locations((-66.548, -0.739600032)):
            Circle(SKETCH3_R)
        with Locations((-60.452, -38.839600032)):
            Circle(SKETCH3_R)
        with Locations((-66.548, -38.839600032)):
            Circle(SKETCH3_R)
        with Locations((-60.452, -26.139600032)):
            Circle(SKETCH3_R)
        with Locations((-66.548, -26.139600032)):
            Circle(SKETCH3_R)
    extrude(amount=-CUT_EXTRUDE2_DEPTH, mode=Mode.SUBTRACT)

    # Sketch5 → Cut-Extrude3 (cut, through all)
    with BuildSketch(Plane.XY.offset(5.842)):
        with Locations((31.65, 15.9274)):
            Circle(SKETCH5_R)
        with Locations((31.65, 10.1854)):
            Circle(SKETCH5_R)
        with Locations((19.15, 10.1854)):
            Circle(SKETCH5_R)
        with Locations((19.15, 15.9274)):
            Circle(SKETCH5_R)
        with Locations((6.25, 15.9274)):
            Circle(SKETCH5_R)
        with Locations((6.25, 10.1854)):
            Circle(SKETCH5_R)
        with Locations((-6.25, 15.9274)):
            Circle(SKETCH5_R)
        with Locations((-6.25, 10.1854)):
            Circle(SKETCH5_R)
        with Locations((-95.35, 10.1854)):
            Circle(SKETCH5_R)
        with Locations((-95.35, 15.9274)):
            Circle(SKETCH5_R)
        with Locations((-107.85, 10.1854)):
            Circle(SKETCH5_R)
        with Locations((-107.85, 15.9274)):
            Circle(SKETCH5_R)
        with Locations((-120.75, 15.9274)):
            Circle(SKETCH5_R)
        with Locations((-120.75, 10.1854)):
            Circle(SKETCH5_R)
        with Locations((-133.25, 10.1854)):
            Circle(SKETCH5_R)
        with Locations((-133.25, 15.9274)):
            Circle(SKETCH5_R)
        with Locations((-25.3, -46.8646)):
            Circle(SKETCH5_R)
        with Locations((-25.3, -72.4646)):
            Circle(SKETCH5_R)
        with Locations((-76.3, -72.4646)):
            Circle(SKETCH5_R)
        with Locations((-76.3, -46.8646)):
            Circle(SKETCH5_R)
    extrude(amount=-CUT_EXTRUDE3_DEPTH, mode=Mode.SUBTRACT)

    # Sketch9 → Cut-Extrude6 (cut, through all)
    with BuildSketch(Plane.XY.offset(5.842)):
        with Locations((-63.5, -43.9436)):
            Rectangle(SKETCH9_W, SKETCH9_H)
        with Locations((-38.1, -43.9436)):
            Rectangle(SKETCH9_W, SKETCH9_H)
        with Locations((-38.1, -75.3856)):
            Rectangle(SKETCH9_W, SKETCH9_H)
        with Locations((-63.5, -75.3856)):
            Rectangle(SKETCH9_W, SKETCH9_H)
        with Locations((-79.221, -59.6646)):
            Rectangle(SKETCH9_W_2, SKETCH9_H_2)
        with Locations((-22.379, -59.6646)):
            Rectangle(SKETCH9_W_2, SKETCH9_H_2)
        with Locations((-22.379, -34.2646)):
            Rectangle(SKETCH9_W_2, SKETCH9_H_2)
        with Locations((-22.379, -8.8646)):
            Rectangle(SKETCH9_W_2, SKETCH9_H_2)
        with Locations((-79.221, -8.8646)):
            Rectangle(SKETCH9_W_2, SKETCH9_H_2)
        with Locations((-79.221, -34.2646)):
            Rectangle(SKETCH9_W_2, SKETCH9_H_2)
    extrude(amount=-CUT_EXTRUDE6_DEPTH, mode=Mode.SUBTRACT)

    # Sketch10 → Cut-Extrude7 (cut, through all)
    with BuildSketch(Plane.XY.offset(5.842)):
        with Locations((-44.45, -41.0226)):
            Circle(SKETCH10_R)
        with Locations((-31.75, -41.0226)):
            Circle(SKETCH10_R)
        with Locations((-19.458, -53.3146)):
            Circle(SKETCH10_R)
        with Locations((-19.458, -66.0146)):
            Circle(SKETCH10_R)
        with Locations((-31.75, -78.3066)):
            Circle(SKETCH10_R)
        with Locations((-44.45, -78.3066)):
            Circle(SKETCH10_R)
        with Locations((-57.15, -78.3066)):
            Circle(SKETCH10_R)
        with Locations((-69.85, -78.3066)):
            Circle(SKETCH10_R)
        with Locations((-82.142, -66.0146)):
            Circle(SKETCH10_R)
        with Locations((-82.142, -53.3146)):
            Circle(SKETCH10_R)
        with Locations((-69.85, -41.0226)):
            Circle(SKETCH10_R)
        with Locations((-57.15, -41.0226)):
            Circle(SKETCH10_R)
        with Locations((-19.458, -40.6146)):
            Circle(SKETCH10_R)
        with Locations((-25.3, -40.6146)):
            Circle(SKETCH10_R)
        with Locations((-25.3, -27.9146)):
            Circle(SKETCH10_R)
        with Locations((-19.458, -27.9146)):
            Circle(SKETCH10_R)
        with Locations((-19.458, -15.2146)):
            Circle(SKETCH10_R)
        with Locations((-25.3, -15.2146)):
            Circle(SKETCH10_R)
        with Locations((-19.458, -2.5146)):
            Circle(SKETCH10_R)
        with Locations((-25.3, -2.5146)):
            Circle(SKETCH10_R)
        with Locations((-76.3, -2.5146)):
            Circle(SKETCH10_R)
        with Locations((-82.142, -2.5146)):
            Circle(SKETCH10_R)
        with Locations((-76.3, -15.2146)):
            Circle(SKETCH10_R)
        with Locations((-82.142, -15.2146)):
            Circle(SKETCH10_R)
        with Locations((-82.142, -27.9146)):
            Circle(SKETCH10_R)
        with Locations((-76.3, -27.9146)):
            Circle(SKETCH10_R)
        with Locations((-76.3, -40.6146)):
            Circle(SKETCH10_R)
        with Locations((-82.142, -40.6146)):
            Circle(SKETCH10_R)
    extrude(amount=-CUT_EXTRUDE7_DEPTH, mode=Mode.SUBTRACT)

    # Sketch11 → Boss-Extrude3 (add)
    with BuildSketch(Plane.XY.offset(5.842)):
        Polygon((-84.00501892, 0), (-76.3, 0), (-72.61548557, 0), (-72.61548557, -41.754133064), (-76.3, -41.754133064), (-76.3, -70.239806385), (-84.00501892, -70.239806385), align=None)
        Polygon((-25.3, -41.754133064), (-25.3, -70.239806385), (-17.59498108, -70.239806385), (-17.59498108, 0), (-25.3, 0), (-28.98451443, 0), (-28.98451443, -41.754133064), align=None)
    extrude(amount=-BOSS_EXTRUDE3_DEPTH)


solid = part.part
